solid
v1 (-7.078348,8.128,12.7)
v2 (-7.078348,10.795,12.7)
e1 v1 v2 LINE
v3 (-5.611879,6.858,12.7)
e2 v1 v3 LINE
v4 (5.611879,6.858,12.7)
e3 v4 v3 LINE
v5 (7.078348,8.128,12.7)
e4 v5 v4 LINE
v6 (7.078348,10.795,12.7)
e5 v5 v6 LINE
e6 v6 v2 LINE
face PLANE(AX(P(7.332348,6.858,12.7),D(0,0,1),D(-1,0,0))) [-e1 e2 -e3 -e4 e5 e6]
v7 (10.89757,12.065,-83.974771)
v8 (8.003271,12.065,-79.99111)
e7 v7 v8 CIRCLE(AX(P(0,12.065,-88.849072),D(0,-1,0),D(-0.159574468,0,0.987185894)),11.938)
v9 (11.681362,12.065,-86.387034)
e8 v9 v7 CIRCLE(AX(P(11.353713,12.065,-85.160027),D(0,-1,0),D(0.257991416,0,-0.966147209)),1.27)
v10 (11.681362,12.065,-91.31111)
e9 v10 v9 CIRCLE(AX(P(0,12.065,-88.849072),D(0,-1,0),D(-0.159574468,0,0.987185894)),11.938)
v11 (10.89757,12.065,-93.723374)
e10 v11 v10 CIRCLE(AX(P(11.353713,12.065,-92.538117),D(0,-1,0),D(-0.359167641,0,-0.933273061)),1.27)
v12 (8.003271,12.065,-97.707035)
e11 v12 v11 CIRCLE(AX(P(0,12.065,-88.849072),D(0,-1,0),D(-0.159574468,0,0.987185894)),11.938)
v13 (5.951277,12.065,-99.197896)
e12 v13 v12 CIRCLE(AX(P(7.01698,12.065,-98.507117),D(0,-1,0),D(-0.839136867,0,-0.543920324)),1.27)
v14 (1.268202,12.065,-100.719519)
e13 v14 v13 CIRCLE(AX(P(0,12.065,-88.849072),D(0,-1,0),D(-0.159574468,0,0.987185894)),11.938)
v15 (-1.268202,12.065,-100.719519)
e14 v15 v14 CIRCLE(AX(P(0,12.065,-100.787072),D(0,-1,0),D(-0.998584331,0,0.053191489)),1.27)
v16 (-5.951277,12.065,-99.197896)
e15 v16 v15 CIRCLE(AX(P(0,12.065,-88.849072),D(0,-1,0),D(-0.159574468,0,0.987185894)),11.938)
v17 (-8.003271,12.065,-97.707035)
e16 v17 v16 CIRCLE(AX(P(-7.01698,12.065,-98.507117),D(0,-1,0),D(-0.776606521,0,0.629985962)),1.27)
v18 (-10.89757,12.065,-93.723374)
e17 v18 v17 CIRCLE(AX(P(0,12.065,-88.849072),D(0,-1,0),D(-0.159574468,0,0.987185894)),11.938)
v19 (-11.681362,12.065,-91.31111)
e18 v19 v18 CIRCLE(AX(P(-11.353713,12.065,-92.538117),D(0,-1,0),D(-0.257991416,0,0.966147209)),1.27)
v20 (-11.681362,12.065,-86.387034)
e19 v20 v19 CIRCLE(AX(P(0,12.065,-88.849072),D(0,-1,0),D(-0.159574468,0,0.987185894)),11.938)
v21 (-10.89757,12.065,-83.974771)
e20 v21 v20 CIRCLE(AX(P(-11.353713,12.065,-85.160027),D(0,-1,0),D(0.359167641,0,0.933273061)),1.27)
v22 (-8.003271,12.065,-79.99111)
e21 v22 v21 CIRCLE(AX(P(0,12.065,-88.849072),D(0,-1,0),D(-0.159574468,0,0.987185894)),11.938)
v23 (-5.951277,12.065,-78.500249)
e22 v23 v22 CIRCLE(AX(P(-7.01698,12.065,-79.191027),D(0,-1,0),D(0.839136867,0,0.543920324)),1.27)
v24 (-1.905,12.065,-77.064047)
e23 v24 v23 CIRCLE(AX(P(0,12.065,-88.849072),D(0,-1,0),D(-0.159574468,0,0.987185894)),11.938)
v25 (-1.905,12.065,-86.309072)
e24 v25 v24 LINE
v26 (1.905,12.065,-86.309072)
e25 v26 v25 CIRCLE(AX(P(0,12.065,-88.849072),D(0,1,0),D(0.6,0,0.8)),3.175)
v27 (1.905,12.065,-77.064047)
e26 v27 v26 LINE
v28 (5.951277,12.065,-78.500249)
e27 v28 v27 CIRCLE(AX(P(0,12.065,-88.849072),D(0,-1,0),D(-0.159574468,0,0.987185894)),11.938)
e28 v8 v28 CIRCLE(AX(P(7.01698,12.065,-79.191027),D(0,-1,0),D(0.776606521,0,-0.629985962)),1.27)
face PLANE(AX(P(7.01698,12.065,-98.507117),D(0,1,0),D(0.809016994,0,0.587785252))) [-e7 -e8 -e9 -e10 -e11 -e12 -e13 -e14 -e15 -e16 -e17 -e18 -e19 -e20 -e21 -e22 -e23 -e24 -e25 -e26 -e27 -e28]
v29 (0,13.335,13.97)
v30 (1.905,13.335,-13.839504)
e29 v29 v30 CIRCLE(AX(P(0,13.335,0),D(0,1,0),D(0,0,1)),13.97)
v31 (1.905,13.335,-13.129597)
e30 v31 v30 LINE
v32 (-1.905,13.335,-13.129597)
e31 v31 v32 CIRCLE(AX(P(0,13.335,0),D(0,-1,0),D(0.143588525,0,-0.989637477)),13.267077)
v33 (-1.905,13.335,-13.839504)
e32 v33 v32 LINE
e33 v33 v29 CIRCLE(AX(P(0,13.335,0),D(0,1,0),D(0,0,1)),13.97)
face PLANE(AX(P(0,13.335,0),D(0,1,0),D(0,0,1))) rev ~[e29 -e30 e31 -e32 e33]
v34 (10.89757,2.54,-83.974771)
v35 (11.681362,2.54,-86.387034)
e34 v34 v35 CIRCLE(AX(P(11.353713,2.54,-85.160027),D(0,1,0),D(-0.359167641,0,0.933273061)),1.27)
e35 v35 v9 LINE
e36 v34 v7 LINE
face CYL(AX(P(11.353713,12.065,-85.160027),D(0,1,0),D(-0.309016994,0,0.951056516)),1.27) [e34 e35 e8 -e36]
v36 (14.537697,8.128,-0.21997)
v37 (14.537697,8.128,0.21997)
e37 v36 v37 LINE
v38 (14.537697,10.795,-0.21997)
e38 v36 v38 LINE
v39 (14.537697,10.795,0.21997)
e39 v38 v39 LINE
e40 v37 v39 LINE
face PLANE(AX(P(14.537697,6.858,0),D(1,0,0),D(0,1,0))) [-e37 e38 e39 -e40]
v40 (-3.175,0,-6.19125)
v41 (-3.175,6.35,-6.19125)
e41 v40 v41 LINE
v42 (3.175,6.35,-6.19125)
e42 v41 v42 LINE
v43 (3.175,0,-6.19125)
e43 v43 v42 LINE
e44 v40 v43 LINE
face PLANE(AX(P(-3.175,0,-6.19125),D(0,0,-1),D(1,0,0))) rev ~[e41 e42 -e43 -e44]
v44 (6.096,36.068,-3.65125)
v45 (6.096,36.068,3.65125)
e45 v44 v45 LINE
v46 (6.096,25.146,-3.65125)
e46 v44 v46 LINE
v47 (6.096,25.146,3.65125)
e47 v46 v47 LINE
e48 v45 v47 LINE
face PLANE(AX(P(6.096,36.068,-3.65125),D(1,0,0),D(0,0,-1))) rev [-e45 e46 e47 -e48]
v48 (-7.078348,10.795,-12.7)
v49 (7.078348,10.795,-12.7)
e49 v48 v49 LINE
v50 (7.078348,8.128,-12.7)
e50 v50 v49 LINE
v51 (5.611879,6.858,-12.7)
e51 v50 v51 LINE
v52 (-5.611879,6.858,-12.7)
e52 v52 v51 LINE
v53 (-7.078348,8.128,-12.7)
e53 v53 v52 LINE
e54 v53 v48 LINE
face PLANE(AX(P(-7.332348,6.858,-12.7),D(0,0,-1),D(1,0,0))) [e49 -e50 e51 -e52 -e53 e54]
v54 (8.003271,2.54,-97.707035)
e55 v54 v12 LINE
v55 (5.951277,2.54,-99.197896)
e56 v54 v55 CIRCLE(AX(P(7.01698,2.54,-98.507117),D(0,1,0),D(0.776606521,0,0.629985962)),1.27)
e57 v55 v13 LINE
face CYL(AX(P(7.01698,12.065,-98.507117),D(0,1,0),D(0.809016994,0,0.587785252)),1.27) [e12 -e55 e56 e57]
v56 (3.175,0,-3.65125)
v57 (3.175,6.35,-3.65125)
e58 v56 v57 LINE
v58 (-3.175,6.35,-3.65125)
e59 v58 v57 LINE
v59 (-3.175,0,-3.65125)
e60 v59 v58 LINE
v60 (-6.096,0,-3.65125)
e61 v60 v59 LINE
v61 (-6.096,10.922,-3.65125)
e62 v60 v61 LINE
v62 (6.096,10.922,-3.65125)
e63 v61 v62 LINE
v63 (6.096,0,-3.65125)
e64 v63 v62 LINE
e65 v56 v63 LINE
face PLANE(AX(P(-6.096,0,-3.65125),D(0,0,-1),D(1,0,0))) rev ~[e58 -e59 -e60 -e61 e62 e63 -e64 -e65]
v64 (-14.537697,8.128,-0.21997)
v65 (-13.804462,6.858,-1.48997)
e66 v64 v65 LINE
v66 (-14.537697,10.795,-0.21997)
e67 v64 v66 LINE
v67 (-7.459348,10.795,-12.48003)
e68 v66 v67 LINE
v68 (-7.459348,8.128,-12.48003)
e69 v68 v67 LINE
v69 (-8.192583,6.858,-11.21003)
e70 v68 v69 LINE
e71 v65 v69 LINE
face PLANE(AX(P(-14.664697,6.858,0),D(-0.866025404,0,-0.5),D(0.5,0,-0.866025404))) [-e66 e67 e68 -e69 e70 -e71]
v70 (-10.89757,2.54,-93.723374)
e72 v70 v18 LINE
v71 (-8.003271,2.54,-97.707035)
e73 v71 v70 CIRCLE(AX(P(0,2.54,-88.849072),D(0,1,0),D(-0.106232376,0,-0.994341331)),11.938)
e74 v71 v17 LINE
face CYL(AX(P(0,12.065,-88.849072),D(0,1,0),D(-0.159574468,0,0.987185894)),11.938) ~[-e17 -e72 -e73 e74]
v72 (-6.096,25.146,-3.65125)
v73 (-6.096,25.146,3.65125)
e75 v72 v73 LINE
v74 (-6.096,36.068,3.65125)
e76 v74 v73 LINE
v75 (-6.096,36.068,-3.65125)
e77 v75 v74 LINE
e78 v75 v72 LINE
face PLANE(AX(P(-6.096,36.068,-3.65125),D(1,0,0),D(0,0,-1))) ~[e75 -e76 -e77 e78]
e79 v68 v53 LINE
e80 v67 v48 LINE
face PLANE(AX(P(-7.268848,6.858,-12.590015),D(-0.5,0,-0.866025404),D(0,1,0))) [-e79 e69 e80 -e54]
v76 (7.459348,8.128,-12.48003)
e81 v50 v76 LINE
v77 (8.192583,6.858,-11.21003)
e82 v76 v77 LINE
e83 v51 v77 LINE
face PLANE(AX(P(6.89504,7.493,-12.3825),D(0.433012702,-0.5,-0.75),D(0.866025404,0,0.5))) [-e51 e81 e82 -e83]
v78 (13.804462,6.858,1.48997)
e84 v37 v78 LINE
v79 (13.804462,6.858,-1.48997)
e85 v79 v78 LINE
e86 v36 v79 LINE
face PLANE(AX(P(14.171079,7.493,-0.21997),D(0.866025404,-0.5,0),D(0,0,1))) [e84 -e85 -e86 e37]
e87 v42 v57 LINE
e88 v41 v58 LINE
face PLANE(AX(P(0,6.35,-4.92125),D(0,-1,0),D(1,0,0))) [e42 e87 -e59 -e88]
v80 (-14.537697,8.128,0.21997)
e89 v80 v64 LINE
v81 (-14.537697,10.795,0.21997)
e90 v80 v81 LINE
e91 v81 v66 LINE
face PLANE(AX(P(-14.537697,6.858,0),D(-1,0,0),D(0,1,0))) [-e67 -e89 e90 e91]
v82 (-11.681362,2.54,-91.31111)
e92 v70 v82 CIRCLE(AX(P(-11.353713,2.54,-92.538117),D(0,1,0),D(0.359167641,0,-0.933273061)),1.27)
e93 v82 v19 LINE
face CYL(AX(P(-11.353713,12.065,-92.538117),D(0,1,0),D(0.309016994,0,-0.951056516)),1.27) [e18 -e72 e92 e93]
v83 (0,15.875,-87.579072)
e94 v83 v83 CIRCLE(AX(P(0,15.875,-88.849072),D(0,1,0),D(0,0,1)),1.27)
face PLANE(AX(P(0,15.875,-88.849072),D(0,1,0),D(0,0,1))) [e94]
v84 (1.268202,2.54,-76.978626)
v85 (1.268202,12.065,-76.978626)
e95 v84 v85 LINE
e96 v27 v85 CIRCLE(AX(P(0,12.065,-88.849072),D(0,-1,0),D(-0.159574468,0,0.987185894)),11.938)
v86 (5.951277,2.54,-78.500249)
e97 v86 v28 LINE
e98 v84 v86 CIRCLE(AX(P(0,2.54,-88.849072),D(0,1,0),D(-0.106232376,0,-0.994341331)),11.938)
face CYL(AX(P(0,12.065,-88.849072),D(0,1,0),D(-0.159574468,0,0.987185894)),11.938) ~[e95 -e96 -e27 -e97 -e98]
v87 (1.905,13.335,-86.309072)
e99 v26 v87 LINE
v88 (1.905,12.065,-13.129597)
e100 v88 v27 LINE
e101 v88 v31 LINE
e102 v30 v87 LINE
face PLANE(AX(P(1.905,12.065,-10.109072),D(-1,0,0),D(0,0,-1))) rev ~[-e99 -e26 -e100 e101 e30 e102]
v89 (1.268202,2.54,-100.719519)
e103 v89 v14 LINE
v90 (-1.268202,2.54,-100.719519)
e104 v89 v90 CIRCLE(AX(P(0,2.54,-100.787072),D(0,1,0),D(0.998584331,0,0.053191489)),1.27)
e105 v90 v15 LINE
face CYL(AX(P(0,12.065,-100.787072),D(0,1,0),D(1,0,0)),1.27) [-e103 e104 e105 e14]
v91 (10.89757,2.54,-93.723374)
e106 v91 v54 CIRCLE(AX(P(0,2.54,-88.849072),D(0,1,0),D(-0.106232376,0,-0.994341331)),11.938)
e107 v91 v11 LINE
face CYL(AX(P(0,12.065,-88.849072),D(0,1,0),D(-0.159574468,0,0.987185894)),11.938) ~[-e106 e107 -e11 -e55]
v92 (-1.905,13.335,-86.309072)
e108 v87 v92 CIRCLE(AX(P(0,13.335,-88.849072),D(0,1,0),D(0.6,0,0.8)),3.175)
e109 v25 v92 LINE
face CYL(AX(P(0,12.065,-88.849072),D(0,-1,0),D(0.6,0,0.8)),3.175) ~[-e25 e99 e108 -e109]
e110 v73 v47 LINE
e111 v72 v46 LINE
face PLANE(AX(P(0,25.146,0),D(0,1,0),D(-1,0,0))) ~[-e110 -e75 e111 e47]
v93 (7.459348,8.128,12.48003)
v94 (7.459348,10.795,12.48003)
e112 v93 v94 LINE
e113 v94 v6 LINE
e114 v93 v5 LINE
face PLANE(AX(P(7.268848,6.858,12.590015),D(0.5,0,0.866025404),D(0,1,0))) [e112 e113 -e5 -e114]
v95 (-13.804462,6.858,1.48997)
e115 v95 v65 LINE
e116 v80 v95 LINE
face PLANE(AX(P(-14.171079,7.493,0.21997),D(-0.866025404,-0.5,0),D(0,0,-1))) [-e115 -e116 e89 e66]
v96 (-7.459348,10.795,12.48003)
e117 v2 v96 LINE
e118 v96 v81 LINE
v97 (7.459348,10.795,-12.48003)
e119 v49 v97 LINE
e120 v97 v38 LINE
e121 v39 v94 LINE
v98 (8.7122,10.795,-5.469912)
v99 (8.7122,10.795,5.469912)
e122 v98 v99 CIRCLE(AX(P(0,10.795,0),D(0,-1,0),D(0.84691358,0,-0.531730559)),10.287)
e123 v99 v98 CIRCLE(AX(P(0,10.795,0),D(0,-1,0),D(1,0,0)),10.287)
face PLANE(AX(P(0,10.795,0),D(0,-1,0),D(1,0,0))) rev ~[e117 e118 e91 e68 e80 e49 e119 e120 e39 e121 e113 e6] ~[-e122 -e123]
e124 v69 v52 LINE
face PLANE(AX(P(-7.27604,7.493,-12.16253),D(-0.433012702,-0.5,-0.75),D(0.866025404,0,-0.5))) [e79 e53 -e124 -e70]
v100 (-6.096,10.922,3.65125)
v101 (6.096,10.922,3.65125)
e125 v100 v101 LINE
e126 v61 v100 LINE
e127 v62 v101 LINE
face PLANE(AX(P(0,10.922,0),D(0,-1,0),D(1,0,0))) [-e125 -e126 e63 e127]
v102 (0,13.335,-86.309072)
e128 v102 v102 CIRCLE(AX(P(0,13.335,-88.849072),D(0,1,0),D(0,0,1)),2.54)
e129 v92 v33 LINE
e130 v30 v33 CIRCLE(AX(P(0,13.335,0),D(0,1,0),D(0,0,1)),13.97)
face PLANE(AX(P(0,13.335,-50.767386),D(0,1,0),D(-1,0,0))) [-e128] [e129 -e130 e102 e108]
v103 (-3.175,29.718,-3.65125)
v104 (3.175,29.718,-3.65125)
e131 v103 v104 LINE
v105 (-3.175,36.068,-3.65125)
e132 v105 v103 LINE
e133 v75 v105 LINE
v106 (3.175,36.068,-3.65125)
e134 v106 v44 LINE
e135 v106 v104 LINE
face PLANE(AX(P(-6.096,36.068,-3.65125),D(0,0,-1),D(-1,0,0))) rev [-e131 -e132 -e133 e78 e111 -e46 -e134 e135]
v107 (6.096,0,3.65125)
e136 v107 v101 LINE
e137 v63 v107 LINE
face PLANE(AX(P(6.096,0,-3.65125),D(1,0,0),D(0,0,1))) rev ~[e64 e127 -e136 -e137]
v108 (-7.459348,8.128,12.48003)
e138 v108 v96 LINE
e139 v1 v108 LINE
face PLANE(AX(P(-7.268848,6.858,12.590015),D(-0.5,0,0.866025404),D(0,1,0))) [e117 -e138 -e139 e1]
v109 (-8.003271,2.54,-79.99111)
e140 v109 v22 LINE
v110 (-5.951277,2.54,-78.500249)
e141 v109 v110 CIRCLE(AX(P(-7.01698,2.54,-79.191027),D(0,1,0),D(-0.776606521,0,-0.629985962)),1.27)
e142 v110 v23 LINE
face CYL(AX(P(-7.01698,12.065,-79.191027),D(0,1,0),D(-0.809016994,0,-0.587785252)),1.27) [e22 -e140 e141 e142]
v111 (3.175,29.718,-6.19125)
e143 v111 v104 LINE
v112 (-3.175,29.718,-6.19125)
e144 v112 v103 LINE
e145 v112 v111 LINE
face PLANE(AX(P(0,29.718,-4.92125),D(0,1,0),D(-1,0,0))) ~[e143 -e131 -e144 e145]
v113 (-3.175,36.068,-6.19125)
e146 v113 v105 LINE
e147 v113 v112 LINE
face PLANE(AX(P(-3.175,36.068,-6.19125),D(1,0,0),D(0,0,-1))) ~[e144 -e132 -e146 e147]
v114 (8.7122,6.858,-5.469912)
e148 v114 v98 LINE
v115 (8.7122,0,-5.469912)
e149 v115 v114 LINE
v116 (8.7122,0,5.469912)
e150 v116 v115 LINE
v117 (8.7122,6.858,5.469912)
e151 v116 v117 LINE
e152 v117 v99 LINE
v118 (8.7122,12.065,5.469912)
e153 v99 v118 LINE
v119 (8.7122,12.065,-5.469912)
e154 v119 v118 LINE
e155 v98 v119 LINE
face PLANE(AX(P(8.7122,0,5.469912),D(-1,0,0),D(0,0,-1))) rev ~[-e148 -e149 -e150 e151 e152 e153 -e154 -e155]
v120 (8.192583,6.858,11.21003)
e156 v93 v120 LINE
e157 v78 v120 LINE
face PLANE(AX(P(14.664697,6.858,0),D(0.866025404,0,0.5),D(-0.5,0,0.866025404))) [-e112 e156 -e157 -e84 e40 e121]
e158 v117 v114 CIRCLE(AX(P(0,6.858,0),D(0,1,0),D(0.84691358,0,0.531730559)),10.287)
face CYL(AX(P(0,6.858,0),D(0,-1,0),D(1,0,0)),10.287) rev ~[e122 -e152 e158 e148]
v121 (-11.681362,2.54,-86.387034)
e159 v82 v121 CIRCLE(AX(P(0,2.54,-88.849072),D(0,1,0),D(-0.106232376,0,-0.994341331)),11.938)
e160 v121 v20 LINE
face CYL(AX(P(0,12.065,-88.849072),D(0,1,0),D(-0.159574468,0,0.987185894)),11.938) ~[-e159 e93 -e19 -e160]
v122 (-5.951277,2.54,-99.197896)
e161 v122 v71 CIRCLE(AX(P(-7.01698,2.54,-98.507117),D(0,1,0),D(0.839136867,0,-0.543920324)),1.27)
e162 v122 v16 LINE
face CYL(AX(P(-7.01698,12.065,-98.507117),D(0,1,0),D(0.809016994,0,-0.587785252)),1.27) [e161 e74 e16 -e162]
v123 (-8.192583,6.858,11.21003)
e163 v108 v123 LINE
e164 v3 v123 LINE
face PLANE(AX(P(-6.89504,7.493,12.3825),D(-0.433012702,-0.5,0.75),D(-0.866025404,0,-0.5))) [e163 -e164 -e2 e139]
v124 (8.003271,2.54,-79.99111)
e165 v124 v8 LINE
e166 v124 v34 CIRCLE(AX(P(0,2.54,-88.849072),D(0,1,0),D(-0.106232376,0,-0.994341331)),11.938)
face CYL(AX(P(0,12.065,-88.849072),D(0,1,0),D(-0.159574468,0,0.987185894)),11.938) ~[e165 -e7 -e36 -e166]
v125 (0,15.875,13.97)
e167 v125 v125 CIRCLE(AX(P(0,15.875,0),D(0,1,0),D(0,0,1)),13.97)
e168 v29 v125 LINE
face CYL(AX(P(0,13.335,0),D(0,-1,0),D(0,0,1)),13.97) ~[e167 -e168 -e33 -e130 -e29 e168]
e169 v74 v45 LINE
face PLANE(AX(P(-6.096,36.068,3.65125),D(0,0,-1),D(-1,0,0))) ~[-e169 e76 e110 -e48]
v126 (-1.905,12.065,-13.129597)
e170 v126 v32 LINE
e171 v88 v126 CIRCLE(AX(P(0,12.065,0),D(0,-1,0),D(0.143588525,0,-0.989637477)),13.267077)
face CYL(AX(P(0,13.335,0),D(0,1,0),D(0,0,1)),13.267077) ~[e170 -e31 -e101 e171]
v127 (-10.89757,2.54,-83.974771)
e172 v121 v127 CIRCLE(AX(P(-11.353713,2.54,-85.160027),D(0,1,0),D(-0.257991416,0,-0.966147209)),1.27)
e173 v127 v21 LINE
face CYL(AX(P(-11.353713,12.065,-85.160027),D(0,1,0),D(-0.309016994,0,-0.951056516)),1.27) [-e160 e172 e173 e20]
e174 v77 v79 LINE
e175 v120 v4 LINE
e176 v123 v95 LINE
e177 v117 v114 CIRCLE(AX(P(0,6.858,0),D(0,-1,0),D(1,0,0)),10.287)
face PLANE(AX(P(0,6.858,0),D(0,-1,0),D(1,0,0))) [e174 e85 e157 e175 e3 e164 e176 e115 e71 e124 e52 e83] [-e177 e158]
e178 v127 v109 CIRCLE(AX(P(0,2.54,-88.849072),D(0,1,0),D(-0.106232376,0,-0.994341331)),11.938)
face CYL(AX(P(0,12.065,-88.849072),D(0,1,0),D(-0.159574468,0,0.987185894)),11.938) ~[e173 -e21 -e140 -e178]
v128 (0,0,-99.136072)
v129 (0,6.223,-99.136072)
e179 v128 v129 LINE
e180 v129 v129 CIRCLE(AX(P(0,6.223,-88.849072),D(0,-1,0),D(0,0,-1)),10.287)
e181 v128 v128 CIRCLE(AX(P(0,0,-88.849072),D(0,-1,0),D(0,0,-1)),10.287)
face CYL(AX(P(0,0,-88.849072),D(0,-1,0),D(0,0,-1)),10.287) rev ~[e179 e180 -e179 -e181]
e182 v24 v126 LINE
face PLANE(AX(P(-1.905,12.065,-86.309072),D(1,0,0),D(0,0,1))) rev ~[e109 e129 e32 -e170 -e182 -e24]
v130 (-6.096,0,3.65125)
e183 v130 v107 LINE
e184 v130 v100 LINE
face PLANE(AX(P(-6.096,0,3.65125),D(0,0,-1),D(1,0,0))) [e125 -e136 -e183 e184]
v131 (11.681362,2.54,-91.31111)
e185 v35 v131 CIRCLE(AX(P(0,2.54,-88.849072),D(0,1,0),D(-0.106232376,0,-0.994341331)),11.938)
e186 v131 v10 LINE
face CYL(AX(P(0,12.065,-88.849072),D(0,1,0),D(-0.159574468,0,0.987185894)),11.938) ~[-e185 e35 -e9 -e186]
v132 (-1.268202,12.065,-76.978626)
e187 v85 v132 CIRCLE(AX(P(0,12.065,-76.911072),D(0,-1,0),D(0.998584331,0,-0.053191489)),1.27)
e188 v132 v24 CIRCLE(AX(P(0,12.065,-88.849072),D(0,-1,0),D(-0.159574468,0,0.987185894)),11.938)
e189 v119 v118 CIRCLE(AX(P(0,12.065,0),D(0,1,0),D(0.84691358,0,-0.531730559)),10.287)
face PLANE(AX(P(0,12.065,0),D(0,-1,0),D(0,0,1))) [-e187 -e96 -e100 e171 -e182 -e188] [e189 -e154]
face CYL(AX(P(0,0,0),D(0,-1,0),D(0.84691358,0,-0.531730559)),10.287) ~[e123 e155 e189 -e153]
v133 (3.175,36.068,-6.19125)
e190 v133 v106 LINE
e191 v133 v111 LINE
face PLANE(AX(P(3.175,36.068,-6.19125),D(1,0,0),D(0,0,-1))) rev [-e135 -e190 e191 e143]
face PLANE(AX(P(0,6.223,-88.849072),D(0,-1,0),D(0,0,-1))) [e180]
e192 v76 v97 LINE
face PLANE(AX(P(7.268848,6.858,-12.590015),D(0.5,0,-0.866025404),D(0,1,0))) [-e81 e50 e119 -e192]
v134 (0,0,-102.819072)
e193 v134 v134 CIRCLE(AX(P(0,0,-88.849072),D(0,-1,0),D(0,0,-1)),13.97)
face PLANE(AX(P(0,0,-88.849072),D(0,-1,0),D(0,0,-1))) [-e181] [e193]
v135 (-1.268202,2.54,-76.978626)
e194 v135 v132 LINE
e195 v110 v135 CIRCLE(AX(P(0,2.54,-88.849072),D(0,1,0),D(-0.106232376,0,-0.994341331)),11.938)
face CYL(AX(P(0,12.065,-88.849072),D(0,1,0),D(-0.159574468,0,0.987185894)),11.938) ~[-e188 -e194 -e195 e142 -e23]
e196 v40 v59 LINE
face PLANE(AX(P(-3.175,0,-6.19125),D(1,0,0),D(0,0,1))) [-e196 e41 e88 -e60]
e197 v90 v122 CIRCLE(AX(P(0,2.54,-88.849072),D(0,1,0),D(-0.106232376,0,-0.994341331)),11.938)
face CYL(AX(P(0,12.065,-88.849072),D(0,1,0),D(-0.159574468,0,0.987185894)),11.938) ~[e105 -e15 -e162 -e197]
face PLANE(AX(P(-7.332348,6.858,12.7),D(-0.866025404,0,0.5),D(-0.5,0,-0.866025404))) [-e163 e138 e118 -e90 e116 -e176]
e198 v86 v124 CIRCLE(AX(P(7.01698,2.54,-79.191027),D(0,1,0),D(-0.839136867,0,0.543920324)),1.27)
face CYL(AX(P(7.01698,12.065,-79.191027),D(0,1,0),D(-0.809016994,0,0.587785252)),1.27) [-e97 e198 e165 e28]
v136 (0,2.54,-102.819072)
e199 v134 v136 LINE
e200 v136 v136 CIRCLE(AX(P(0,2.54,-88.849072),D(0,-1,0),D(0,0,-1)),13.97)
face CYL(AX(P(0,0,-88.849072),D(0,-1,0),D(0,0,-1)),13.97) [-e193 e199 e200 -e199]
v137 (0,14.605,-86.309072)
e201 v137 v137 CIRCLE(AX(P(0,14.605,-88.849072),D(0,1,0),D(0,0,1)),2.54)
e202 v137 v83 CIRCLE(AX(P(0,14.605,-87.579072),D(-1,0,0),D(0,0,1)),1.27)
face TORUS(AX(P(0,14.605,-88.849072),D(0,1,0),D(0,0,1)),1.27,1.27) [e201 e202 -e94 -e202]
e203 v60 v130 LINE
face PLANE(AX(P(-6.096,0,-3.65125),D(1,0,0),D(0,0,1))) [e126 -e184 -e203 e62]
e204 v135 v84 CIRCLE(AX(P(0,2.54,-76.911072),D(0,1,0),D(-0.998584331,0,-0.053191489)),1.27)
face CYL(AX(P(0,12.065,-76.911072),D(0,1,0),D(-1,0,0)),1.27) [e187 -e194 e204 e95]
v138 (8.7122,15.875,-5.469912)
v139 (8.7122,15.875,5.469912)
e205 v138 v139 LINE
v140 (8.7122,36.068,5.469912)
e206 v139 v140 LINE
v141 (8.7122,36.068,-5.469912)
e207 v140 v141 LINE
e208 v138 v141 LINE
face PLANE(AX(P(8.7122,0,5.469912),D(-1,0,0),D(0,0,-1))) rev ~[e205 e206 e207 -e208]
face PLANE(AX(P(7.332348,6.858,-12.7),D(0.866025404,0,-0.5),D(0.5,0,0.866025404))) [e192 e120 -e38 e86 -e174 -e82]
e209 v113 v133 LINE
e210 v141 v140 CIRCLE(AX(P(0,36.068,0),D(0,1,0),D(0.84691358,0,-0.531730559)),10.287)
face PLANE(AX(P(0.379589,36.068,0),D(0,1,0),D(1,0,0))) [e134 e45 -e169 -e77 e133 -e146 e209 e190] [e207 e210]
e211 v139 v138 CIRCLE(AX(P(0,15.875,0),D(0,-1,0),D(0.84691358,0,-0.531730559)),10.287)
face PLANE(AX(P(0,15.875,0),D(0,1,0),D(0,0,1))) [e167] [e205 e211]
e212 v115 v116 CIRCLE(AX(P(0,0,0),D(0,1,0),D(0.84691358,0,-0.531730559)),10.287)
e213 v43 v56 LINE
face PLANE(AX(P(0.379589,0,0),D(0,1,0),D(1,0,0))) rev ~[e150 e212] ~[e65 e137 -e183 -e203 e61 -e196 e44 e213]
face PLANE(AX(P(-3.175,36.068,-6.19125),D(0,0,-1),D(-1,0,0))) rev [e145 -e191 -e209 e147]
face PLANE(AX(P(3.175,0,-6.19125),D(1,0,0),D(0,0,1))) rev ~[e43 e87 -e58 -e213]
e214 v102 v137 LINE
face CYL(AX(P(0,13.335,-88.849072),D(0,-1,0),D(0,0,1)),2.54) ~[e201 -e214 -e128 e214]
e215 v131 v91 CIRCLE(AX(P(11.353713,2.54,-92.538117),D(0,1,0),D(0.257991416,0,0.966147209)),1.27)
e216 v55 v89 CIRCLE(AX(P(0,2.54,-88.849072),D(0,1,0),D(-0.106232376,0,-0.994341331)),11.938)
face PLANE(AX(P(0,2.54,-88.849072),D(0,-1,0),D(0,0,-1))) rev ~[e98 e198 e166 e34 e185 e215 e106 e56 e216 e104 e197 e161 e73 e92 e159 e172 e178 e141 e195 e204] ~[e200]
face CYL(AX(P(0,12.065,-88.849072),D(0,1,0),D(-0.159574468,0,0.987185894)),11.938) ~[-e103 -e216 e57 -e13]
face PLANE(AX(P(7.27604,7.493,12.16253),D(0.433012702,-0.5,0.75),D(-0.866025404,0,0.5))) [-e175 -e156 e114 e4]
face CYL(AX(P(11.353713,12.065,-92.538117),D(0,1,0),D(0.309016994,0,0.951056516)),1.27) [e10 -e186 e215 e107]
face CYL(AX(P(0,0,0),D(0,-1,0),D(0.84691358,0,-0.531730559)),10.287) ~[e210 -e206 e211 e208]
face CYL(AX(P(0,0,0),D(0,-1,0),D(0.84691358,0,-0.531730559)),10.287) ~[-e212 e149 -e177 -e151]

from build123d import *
from OCP.BRepFilletAPI import BRepFilletAPI_MakeChamfer

# Parameters (mm, degrees)
BOSS_EXTRUDE1_DEPTH  = 13.335
SKETCH2_R            = 13.97
BOSS_EXTRUDE2_DEPTH  = 2.54
BOSS_EXTRUDE3_DEPTH  = 36.068
BOSS_EXTRUDE4_START  = 6.477
SKETCH3_R            = 10.287
BOSS_EXTRUDE4_DEPTH  = 3.937
CHAMFER1_SIZE        = 0.254
CHAMFER1_EDGE_2_SIZE = 0.254
CHAMFER1_EDGE_3_SIZE = 0.254
CHAMFER1_EDGE_4_SIZE = 0.254
CHAMFER1_EDGE_5_SIZE = 0.254
CHAMFER1_EDGE_6_SIZE = 0.254
SKETCH4_W            = 12.192
SKETCH4_H            = 7.3025
CUT_EXTRUDE1_DEPTH   = 10.922
SKETCH5_W            = 6.35
SKETCH5_H            = 2.54
CUT_EXTRUDE2_DEPTH   = 6.35
SKETCH6_R            = 13.267076916
BOSS_EXTRUDE5_DEPTH  = 1.27
BOSS_EXTRUDE6_DEPTH  = 1.27
SKETCH8_R            = 2.54
BOSS_EXTRUDE7_DEPTH  = 2.54
FILLET1_R            = 1.27
SKETCH9_R            = 11.938
BOSS_EXTRUDE8_DEPTH  = 12.065
SKETCH10_R           = 13.97
BOSS_EXTRUDE9_DEPTH  = 2.54
SKETCH11_R           = 10.287
CUT_EXTRUDE3_DEPTH   = 6.223
SKETCH12_R           = 1.27
BOSS_EXTRUDE10_DEPTH = 9.525
CIRPATTERN1_COUNT    = 10
CHAMFER2_SIZE        = 1.27
CHAMFER2_SIZE2       = 0.733234842


with BuildPart() as part:
    # Sketch1 → Boss-Extrude1 (new body)
    with BuildSketch(Plane(origin=(0, 0, 0), x_dir=(1, 0, 0), z_dir=(0, 1, 0))):
        with BuildLine():
            Line((8.7122, -5.469912263), (8.7122, 5.469912263))
            ThreePointArc((8.7122, 5.469912263), (-10.287, 0), (8.7122, -5.469912263))
        make_face()
    extrude(amount=BOSS_EXTRUDE1_DEPTH)

    # Sketch2 → Boss-Extrude2 (add)
    with BuildSketch(Plane(origin=(0, 13.335, 0), x_dir=(1, 0, 0), z_dir=(0, 1, 0))):
        with Locations(Location((0, 0, 0), (0, 0, 270))):
            Circle(SKETCH2_R)
    extrude(amount=BOSS_EXTRUDE2_DEPTH)

    # Sketch1<2> → Boss-Extrude3 (add)
    with BuildSketch(Plane(origin=(0, 0, 0), x_dir=(1, 0, 0), z_dir=(0, 1, 0))):
        with BuildLine():
            Line((8.7122, -5.469912263), (8.7122, 5.469912263))
            ThreePointArc((8.7122, 5.469912263), (-10.287, 0), (8.7122, -5.469912263))
        make_face()
    extrude(amount=BOSS_EXTRUDE3_DEPTH)

    # Sketch3 → Boss-Extrude4 (add)
    with BuildSketch(Plane.XZ.offset(-13.335).offset(BOSS_EXTRUDE4_START)):
        Polygon((7.332348419, 12.7), (-7.332348419, 12.7), (-14.664696837, 0), (-7.332348419, -12.7), (7.332348419, -12.7), (14.664696837, 0), align=None)
        Circle(SKETCH3_R, mode=Mode.SUBTRACT)
    extrude(amount=-BOSS_EXTRUDE4_DEPTH)

    # Chamfer1
    chamfer1_edges = [part.edges().sort_by_distance(p)[0] for p in [
        (14.664696837, 8.8265, 0),
    ]]
    chamfer(chamfer1_edges, length=CHAMFER1_SIZE)

    # Chamfer1 edge 2
    chamfer1_edge_2_edges = [part.edges().sort_by_distance(p)[0] for p in [
        (7.332348419, 8.8265, 12.7),
    ]]
    chamfer(chamfer1_edge_2_edges, length=CHAMFER1_EDGE_2_SIZE)

    # Chamfer1 edge 3
    chamfer1_edge_3_edges = [part.edges().sort_by_distance(p)[0] for p in [
        (-7.332348419, 8.8265, 12.7),
    ]]
    chamfer(chamfer1_edge_3_edges, length=CHAMFER1_EDGE_3_SIZE)

    # Chamfer1 edge 4
    chamfer1_edge_4_edges = [part.edges().sort_by_distance(p)[0] for p in [
        (-14.664696837, 8.8265, 0),
    ]]
    chamfer(chamfer1_edge_4_edges, length=CHAMFER1_EDGE_4_SIZE)

    # Chamfer1 edge 5
    chamfer1_edge_5_edges = [part.edges().sort_by_distance(p)[0] for p in [
        (-7.332348419, 8.8265, -12.7),
    ]]
    chamfer(chamfer1_edge_5_edges, length=CHAMFER1_EDGE_5_SIZE)

    # Chamfer1 edge 6
    chamfer1_edge_6_edges = [part.edges().sort_by_distance(p)[0] for p in [
        (7.332348419, 8.8265, -12.7),
    ]]
    chamfer(chamfer1_edge_6_edges, length=CHAMFER1_EDGE_6_SIZE)

    # Sketch4 → Cut-Extrude1 (cut)
    with BuildSketch(Plane.XZ):
        Rectangle(SKETCH4_W, SKETCH4_H)
    cut_extrude1 = extrude(amount=-CUT_EXTRUDE1_DEPTH, mode=Mode.SUBTRACT)

    # Sketch5 → Cut-Extrude2 (cut)
    with BuildSketch(Plane.XZ):
        with Locations((0, -4.92125)):
            Rectangle(SKETCH5_W, SKETCH5_H)
    cut_extrude2 = extrude(amount=-CUT_EXTRUDE2_DEPTH, mode=Mode.SUBTRACT)

    # Mirror1: Cut-Extrude1, Cut-Extrude2 across plane
    add(cut_extrude1.mirror(Plane(origin=(0, 18.034, 0), x_dir=(0, 0, 1), z_dir=(0, -1, 0))), mode=Mode.SUBTRACT)
    add(cut_extrude2.mirror(Plane(origin=(0, 18.034, 0), x_dir=(0, 0, 1), z_dir=(0, -1, 0))), mode=Mode.SUBTRACT)

    # Sketch6 → Boss-Extrude5 (add)
    with BuildSketch(Plane.XZ.offset(-13.335)):
        with Locations(Location((0, 0, 0), (0, 0, 90))):
            Circle(SKETCH6_R)
    extrude(amount=BOSS_EXTRUDE5_DEPTH)

    # Sketch7 → Boss-Extrude6 (add)
    with BuildSketch(Plane.XZ.offset(-12.065)):
        with BuildLine():
            Line((-1.905, -10.109072361), (1.905, -10.109072361))
            Line((1.905, -10.109072361), (1.905, -86.309072361))
            ThreePointArc((1.905, -86.309072361), (0, -92.024072361), (-1.905, -86.309072361))
            Line((-1.905, -86.309072361), (-1.905, -10.109072361))
        make_face()
    extrude(amount=-BOSS_EXTRUDE6_DEPTH)

    # Sketch8 → Boss-Extrude7 (add)
    with BuildSketch(Plane(origin=(0, 13.335, 0), x_dir=(1, 0, 0), z_dir=(0, 1, 0))):
        with Locations(Location((0, 88.849072361, 0), (0, 0, 270))):
            Circle(SKETCH8_R)
    extrude(amount=BOSS_EXTRUDE7_DEPTH)

    # Fillet1
    fillet1_edges = [part.edges().sort_by_distance(p)[0] for p in [
        (0, 15.875, -91.389072361),
    ]]
    fillet(fillet1_edges, radius=FILLET1_R)

    # Sketch9 → Boss-Extrude8 (add)
    with BuildSketch(Plane.XZ.offset(-12.065)):
        with Locations(Location((0, -88.849072361, 0), (0, 0, 99.182197699))):
            Circle(SKETCH9_R)
    extrude(amount=BOSS_EXTRUDE8_DEPTH)

    # Sketch10 → Boss-Extrude9 (add)
    with BuildSketch(Plane.XZ):
        with Locations(Location((0, -88.849072361, 0), (0, 0, 270))):
            Circle(SKETCH10_R)
    extrude(amount=-BOSS_EXTRUDE9_DEPTH)

    # Sketch11 → Cut-Extrude3 (cut)
    with BuildSketch(Plane.XZ):
        with Locations(Location((0, -88.849072361, 0), (0, 0, 270))):
            Circle(SKETCH11_R)
    extrude(amount=-CUT_EXTRUDE3_DEPTH, mode=Mode.SUBTRACT)

    # Sketch12 → Boss-Extrude10 (add)
    with BuildSketch(Plane(origin=(0, 12.065, 0), x_dir=(1, 0, 0), z_dir=(0, 1, 0))):
        with Locations((0, 100.787072361)):
            Circle(SKETCH12_R)
    boss_extrude10 = extrude(amount=-BOSS_EXTRUDE10_DEPTH)

    # CirPattern1: Boss-Extrude10 ×10 about axis
    cirpattern1_axis = Axis((0, 0, -88.849072361), (0, 1, 0))
    for i in range(1, CIRPATTERN1_COUNT):
        add(boss_extrude10.rotate(cirpattern1_axis, i * 360 / CIRPATTERN1_COUNT))

    # Chamfer2: one chamfer whose edges measure the first distance from different faces: ONE call of the kernel's chamfer builder (chamfer() names one face for all edges)
    chamfer2_edges_1 = [part.edges().sort_by_distance(p)[0] for p in [
        (7.268848419, 6.858, -12.590014774),
    ]]
    chamfer2_side_1 = [part.faces().sort_by_distance(p)[0] for p in [
        (7.268848419, 8.8265, -12.590014774),
    ]]
    chamfer2_edges_2 = [part.edges().sort_by_distance(p)[0] for p in [
        (-7.268848419, 6.858, -12.590014774),
    ]]
    chamfer2_side_2 = [part.faces().sort_by_distance(p)[0] for p in [
        (-7.268848419, 8.8265, -12.590014774),
    ]]
    chamfer2_edges_3 = [part.edges().sort_by_distance(p)[0] for p in [
        (-14.537696837, 6.858, 0),
    ]]
    chamfer2_side_3 = [part.faces().sort_by_distance(p)[0] for p in [
        (-14.537696837, 8.8265, 0),
    ]]
    chamfer2_edges_4 = [part.edges().sort_by_distance(p)[0] for p in [
        (-7.268848419, 6.858, 12.590014774),
    ]]
    chamfer2_side_4 = [part.faces().sort_by_distance(p)[0] for p in [
        (-7.268848419, 8.8265, 12.590014774),
    ]]
    chamfer2_edges_5 = [part.edges().sort_by_distance(p)[0] for p in [
        (7.268848419, 6.858, 12.590014774),
    ]]
    chamfer2_side_5 = [part.faces().sort_by_distance(p)[0] for p in [
        (7.268848419, 8.8265, 12.590014774),
    ]]
    chamfer2_edges_6 = [part.edges().sort_by_distance(p)[0] for p in [
        (14.537696837, 6.858, 0),
    ]]
    chamfer2_side_6 = [part.faces().sort_by_distance(p)[0] for p in [
        (14.537696837, 8.8265, 0),
    ]]
    chamfer2 = BRepFilletAPI_MakeChamfer(part.part.solid().wrapped)
    for e in chamfer2_edges_1:
        chamfer2.Add(CHAMFER2_SIZE, CHAMFER2_SIZE2, e.wrapped, chamfer2_side_1[0].wrapped)  # the first distance lies on this face
    for e in chamfer2_edges_2:
        chamfer2.Add(CHAMFER2_SIZE, CHAMFER2_SIZE2, e.wrapped, chamfer2_side_2[0].wrapped)  # the first distance lies on this face
    for e in chamfer2_edges_3:
        chamfer2.Add(CHAMFER2_SIZE, CHAMFER2_SIZE2, e.wrapped, chamfer2_side_3[0].wrapped)  # the first distance lies on this face
    for e in chamfer2_edges_4:
        chamfer2.Add(CHAMFER2_SIZE, CHAMFER2_SIZE2, e.wrapped, chamfer2_side_4[0].wrapped)  # the first distance lies on this face
    for e in chamfer2_edges_5:
        chamfer2.Add(CHAMFER2_SIZE, CHAMFER2_SIZE2, e.wrapped, chamfer2_side_5[0].wrapped)  # the first distance lies on this face
    for e in chamfer2_edges_6:
        chamfer2.Add(CHAMFER2_SIZE, CHAMFER2_SIZE2, e.wrapped, chamfer2_side_6[0].wrapped)  # the first distance lies on this face
    add(Compound.cast(chamfer2.Shape()), mode=Mode.REPLACE)


solid = part.part
